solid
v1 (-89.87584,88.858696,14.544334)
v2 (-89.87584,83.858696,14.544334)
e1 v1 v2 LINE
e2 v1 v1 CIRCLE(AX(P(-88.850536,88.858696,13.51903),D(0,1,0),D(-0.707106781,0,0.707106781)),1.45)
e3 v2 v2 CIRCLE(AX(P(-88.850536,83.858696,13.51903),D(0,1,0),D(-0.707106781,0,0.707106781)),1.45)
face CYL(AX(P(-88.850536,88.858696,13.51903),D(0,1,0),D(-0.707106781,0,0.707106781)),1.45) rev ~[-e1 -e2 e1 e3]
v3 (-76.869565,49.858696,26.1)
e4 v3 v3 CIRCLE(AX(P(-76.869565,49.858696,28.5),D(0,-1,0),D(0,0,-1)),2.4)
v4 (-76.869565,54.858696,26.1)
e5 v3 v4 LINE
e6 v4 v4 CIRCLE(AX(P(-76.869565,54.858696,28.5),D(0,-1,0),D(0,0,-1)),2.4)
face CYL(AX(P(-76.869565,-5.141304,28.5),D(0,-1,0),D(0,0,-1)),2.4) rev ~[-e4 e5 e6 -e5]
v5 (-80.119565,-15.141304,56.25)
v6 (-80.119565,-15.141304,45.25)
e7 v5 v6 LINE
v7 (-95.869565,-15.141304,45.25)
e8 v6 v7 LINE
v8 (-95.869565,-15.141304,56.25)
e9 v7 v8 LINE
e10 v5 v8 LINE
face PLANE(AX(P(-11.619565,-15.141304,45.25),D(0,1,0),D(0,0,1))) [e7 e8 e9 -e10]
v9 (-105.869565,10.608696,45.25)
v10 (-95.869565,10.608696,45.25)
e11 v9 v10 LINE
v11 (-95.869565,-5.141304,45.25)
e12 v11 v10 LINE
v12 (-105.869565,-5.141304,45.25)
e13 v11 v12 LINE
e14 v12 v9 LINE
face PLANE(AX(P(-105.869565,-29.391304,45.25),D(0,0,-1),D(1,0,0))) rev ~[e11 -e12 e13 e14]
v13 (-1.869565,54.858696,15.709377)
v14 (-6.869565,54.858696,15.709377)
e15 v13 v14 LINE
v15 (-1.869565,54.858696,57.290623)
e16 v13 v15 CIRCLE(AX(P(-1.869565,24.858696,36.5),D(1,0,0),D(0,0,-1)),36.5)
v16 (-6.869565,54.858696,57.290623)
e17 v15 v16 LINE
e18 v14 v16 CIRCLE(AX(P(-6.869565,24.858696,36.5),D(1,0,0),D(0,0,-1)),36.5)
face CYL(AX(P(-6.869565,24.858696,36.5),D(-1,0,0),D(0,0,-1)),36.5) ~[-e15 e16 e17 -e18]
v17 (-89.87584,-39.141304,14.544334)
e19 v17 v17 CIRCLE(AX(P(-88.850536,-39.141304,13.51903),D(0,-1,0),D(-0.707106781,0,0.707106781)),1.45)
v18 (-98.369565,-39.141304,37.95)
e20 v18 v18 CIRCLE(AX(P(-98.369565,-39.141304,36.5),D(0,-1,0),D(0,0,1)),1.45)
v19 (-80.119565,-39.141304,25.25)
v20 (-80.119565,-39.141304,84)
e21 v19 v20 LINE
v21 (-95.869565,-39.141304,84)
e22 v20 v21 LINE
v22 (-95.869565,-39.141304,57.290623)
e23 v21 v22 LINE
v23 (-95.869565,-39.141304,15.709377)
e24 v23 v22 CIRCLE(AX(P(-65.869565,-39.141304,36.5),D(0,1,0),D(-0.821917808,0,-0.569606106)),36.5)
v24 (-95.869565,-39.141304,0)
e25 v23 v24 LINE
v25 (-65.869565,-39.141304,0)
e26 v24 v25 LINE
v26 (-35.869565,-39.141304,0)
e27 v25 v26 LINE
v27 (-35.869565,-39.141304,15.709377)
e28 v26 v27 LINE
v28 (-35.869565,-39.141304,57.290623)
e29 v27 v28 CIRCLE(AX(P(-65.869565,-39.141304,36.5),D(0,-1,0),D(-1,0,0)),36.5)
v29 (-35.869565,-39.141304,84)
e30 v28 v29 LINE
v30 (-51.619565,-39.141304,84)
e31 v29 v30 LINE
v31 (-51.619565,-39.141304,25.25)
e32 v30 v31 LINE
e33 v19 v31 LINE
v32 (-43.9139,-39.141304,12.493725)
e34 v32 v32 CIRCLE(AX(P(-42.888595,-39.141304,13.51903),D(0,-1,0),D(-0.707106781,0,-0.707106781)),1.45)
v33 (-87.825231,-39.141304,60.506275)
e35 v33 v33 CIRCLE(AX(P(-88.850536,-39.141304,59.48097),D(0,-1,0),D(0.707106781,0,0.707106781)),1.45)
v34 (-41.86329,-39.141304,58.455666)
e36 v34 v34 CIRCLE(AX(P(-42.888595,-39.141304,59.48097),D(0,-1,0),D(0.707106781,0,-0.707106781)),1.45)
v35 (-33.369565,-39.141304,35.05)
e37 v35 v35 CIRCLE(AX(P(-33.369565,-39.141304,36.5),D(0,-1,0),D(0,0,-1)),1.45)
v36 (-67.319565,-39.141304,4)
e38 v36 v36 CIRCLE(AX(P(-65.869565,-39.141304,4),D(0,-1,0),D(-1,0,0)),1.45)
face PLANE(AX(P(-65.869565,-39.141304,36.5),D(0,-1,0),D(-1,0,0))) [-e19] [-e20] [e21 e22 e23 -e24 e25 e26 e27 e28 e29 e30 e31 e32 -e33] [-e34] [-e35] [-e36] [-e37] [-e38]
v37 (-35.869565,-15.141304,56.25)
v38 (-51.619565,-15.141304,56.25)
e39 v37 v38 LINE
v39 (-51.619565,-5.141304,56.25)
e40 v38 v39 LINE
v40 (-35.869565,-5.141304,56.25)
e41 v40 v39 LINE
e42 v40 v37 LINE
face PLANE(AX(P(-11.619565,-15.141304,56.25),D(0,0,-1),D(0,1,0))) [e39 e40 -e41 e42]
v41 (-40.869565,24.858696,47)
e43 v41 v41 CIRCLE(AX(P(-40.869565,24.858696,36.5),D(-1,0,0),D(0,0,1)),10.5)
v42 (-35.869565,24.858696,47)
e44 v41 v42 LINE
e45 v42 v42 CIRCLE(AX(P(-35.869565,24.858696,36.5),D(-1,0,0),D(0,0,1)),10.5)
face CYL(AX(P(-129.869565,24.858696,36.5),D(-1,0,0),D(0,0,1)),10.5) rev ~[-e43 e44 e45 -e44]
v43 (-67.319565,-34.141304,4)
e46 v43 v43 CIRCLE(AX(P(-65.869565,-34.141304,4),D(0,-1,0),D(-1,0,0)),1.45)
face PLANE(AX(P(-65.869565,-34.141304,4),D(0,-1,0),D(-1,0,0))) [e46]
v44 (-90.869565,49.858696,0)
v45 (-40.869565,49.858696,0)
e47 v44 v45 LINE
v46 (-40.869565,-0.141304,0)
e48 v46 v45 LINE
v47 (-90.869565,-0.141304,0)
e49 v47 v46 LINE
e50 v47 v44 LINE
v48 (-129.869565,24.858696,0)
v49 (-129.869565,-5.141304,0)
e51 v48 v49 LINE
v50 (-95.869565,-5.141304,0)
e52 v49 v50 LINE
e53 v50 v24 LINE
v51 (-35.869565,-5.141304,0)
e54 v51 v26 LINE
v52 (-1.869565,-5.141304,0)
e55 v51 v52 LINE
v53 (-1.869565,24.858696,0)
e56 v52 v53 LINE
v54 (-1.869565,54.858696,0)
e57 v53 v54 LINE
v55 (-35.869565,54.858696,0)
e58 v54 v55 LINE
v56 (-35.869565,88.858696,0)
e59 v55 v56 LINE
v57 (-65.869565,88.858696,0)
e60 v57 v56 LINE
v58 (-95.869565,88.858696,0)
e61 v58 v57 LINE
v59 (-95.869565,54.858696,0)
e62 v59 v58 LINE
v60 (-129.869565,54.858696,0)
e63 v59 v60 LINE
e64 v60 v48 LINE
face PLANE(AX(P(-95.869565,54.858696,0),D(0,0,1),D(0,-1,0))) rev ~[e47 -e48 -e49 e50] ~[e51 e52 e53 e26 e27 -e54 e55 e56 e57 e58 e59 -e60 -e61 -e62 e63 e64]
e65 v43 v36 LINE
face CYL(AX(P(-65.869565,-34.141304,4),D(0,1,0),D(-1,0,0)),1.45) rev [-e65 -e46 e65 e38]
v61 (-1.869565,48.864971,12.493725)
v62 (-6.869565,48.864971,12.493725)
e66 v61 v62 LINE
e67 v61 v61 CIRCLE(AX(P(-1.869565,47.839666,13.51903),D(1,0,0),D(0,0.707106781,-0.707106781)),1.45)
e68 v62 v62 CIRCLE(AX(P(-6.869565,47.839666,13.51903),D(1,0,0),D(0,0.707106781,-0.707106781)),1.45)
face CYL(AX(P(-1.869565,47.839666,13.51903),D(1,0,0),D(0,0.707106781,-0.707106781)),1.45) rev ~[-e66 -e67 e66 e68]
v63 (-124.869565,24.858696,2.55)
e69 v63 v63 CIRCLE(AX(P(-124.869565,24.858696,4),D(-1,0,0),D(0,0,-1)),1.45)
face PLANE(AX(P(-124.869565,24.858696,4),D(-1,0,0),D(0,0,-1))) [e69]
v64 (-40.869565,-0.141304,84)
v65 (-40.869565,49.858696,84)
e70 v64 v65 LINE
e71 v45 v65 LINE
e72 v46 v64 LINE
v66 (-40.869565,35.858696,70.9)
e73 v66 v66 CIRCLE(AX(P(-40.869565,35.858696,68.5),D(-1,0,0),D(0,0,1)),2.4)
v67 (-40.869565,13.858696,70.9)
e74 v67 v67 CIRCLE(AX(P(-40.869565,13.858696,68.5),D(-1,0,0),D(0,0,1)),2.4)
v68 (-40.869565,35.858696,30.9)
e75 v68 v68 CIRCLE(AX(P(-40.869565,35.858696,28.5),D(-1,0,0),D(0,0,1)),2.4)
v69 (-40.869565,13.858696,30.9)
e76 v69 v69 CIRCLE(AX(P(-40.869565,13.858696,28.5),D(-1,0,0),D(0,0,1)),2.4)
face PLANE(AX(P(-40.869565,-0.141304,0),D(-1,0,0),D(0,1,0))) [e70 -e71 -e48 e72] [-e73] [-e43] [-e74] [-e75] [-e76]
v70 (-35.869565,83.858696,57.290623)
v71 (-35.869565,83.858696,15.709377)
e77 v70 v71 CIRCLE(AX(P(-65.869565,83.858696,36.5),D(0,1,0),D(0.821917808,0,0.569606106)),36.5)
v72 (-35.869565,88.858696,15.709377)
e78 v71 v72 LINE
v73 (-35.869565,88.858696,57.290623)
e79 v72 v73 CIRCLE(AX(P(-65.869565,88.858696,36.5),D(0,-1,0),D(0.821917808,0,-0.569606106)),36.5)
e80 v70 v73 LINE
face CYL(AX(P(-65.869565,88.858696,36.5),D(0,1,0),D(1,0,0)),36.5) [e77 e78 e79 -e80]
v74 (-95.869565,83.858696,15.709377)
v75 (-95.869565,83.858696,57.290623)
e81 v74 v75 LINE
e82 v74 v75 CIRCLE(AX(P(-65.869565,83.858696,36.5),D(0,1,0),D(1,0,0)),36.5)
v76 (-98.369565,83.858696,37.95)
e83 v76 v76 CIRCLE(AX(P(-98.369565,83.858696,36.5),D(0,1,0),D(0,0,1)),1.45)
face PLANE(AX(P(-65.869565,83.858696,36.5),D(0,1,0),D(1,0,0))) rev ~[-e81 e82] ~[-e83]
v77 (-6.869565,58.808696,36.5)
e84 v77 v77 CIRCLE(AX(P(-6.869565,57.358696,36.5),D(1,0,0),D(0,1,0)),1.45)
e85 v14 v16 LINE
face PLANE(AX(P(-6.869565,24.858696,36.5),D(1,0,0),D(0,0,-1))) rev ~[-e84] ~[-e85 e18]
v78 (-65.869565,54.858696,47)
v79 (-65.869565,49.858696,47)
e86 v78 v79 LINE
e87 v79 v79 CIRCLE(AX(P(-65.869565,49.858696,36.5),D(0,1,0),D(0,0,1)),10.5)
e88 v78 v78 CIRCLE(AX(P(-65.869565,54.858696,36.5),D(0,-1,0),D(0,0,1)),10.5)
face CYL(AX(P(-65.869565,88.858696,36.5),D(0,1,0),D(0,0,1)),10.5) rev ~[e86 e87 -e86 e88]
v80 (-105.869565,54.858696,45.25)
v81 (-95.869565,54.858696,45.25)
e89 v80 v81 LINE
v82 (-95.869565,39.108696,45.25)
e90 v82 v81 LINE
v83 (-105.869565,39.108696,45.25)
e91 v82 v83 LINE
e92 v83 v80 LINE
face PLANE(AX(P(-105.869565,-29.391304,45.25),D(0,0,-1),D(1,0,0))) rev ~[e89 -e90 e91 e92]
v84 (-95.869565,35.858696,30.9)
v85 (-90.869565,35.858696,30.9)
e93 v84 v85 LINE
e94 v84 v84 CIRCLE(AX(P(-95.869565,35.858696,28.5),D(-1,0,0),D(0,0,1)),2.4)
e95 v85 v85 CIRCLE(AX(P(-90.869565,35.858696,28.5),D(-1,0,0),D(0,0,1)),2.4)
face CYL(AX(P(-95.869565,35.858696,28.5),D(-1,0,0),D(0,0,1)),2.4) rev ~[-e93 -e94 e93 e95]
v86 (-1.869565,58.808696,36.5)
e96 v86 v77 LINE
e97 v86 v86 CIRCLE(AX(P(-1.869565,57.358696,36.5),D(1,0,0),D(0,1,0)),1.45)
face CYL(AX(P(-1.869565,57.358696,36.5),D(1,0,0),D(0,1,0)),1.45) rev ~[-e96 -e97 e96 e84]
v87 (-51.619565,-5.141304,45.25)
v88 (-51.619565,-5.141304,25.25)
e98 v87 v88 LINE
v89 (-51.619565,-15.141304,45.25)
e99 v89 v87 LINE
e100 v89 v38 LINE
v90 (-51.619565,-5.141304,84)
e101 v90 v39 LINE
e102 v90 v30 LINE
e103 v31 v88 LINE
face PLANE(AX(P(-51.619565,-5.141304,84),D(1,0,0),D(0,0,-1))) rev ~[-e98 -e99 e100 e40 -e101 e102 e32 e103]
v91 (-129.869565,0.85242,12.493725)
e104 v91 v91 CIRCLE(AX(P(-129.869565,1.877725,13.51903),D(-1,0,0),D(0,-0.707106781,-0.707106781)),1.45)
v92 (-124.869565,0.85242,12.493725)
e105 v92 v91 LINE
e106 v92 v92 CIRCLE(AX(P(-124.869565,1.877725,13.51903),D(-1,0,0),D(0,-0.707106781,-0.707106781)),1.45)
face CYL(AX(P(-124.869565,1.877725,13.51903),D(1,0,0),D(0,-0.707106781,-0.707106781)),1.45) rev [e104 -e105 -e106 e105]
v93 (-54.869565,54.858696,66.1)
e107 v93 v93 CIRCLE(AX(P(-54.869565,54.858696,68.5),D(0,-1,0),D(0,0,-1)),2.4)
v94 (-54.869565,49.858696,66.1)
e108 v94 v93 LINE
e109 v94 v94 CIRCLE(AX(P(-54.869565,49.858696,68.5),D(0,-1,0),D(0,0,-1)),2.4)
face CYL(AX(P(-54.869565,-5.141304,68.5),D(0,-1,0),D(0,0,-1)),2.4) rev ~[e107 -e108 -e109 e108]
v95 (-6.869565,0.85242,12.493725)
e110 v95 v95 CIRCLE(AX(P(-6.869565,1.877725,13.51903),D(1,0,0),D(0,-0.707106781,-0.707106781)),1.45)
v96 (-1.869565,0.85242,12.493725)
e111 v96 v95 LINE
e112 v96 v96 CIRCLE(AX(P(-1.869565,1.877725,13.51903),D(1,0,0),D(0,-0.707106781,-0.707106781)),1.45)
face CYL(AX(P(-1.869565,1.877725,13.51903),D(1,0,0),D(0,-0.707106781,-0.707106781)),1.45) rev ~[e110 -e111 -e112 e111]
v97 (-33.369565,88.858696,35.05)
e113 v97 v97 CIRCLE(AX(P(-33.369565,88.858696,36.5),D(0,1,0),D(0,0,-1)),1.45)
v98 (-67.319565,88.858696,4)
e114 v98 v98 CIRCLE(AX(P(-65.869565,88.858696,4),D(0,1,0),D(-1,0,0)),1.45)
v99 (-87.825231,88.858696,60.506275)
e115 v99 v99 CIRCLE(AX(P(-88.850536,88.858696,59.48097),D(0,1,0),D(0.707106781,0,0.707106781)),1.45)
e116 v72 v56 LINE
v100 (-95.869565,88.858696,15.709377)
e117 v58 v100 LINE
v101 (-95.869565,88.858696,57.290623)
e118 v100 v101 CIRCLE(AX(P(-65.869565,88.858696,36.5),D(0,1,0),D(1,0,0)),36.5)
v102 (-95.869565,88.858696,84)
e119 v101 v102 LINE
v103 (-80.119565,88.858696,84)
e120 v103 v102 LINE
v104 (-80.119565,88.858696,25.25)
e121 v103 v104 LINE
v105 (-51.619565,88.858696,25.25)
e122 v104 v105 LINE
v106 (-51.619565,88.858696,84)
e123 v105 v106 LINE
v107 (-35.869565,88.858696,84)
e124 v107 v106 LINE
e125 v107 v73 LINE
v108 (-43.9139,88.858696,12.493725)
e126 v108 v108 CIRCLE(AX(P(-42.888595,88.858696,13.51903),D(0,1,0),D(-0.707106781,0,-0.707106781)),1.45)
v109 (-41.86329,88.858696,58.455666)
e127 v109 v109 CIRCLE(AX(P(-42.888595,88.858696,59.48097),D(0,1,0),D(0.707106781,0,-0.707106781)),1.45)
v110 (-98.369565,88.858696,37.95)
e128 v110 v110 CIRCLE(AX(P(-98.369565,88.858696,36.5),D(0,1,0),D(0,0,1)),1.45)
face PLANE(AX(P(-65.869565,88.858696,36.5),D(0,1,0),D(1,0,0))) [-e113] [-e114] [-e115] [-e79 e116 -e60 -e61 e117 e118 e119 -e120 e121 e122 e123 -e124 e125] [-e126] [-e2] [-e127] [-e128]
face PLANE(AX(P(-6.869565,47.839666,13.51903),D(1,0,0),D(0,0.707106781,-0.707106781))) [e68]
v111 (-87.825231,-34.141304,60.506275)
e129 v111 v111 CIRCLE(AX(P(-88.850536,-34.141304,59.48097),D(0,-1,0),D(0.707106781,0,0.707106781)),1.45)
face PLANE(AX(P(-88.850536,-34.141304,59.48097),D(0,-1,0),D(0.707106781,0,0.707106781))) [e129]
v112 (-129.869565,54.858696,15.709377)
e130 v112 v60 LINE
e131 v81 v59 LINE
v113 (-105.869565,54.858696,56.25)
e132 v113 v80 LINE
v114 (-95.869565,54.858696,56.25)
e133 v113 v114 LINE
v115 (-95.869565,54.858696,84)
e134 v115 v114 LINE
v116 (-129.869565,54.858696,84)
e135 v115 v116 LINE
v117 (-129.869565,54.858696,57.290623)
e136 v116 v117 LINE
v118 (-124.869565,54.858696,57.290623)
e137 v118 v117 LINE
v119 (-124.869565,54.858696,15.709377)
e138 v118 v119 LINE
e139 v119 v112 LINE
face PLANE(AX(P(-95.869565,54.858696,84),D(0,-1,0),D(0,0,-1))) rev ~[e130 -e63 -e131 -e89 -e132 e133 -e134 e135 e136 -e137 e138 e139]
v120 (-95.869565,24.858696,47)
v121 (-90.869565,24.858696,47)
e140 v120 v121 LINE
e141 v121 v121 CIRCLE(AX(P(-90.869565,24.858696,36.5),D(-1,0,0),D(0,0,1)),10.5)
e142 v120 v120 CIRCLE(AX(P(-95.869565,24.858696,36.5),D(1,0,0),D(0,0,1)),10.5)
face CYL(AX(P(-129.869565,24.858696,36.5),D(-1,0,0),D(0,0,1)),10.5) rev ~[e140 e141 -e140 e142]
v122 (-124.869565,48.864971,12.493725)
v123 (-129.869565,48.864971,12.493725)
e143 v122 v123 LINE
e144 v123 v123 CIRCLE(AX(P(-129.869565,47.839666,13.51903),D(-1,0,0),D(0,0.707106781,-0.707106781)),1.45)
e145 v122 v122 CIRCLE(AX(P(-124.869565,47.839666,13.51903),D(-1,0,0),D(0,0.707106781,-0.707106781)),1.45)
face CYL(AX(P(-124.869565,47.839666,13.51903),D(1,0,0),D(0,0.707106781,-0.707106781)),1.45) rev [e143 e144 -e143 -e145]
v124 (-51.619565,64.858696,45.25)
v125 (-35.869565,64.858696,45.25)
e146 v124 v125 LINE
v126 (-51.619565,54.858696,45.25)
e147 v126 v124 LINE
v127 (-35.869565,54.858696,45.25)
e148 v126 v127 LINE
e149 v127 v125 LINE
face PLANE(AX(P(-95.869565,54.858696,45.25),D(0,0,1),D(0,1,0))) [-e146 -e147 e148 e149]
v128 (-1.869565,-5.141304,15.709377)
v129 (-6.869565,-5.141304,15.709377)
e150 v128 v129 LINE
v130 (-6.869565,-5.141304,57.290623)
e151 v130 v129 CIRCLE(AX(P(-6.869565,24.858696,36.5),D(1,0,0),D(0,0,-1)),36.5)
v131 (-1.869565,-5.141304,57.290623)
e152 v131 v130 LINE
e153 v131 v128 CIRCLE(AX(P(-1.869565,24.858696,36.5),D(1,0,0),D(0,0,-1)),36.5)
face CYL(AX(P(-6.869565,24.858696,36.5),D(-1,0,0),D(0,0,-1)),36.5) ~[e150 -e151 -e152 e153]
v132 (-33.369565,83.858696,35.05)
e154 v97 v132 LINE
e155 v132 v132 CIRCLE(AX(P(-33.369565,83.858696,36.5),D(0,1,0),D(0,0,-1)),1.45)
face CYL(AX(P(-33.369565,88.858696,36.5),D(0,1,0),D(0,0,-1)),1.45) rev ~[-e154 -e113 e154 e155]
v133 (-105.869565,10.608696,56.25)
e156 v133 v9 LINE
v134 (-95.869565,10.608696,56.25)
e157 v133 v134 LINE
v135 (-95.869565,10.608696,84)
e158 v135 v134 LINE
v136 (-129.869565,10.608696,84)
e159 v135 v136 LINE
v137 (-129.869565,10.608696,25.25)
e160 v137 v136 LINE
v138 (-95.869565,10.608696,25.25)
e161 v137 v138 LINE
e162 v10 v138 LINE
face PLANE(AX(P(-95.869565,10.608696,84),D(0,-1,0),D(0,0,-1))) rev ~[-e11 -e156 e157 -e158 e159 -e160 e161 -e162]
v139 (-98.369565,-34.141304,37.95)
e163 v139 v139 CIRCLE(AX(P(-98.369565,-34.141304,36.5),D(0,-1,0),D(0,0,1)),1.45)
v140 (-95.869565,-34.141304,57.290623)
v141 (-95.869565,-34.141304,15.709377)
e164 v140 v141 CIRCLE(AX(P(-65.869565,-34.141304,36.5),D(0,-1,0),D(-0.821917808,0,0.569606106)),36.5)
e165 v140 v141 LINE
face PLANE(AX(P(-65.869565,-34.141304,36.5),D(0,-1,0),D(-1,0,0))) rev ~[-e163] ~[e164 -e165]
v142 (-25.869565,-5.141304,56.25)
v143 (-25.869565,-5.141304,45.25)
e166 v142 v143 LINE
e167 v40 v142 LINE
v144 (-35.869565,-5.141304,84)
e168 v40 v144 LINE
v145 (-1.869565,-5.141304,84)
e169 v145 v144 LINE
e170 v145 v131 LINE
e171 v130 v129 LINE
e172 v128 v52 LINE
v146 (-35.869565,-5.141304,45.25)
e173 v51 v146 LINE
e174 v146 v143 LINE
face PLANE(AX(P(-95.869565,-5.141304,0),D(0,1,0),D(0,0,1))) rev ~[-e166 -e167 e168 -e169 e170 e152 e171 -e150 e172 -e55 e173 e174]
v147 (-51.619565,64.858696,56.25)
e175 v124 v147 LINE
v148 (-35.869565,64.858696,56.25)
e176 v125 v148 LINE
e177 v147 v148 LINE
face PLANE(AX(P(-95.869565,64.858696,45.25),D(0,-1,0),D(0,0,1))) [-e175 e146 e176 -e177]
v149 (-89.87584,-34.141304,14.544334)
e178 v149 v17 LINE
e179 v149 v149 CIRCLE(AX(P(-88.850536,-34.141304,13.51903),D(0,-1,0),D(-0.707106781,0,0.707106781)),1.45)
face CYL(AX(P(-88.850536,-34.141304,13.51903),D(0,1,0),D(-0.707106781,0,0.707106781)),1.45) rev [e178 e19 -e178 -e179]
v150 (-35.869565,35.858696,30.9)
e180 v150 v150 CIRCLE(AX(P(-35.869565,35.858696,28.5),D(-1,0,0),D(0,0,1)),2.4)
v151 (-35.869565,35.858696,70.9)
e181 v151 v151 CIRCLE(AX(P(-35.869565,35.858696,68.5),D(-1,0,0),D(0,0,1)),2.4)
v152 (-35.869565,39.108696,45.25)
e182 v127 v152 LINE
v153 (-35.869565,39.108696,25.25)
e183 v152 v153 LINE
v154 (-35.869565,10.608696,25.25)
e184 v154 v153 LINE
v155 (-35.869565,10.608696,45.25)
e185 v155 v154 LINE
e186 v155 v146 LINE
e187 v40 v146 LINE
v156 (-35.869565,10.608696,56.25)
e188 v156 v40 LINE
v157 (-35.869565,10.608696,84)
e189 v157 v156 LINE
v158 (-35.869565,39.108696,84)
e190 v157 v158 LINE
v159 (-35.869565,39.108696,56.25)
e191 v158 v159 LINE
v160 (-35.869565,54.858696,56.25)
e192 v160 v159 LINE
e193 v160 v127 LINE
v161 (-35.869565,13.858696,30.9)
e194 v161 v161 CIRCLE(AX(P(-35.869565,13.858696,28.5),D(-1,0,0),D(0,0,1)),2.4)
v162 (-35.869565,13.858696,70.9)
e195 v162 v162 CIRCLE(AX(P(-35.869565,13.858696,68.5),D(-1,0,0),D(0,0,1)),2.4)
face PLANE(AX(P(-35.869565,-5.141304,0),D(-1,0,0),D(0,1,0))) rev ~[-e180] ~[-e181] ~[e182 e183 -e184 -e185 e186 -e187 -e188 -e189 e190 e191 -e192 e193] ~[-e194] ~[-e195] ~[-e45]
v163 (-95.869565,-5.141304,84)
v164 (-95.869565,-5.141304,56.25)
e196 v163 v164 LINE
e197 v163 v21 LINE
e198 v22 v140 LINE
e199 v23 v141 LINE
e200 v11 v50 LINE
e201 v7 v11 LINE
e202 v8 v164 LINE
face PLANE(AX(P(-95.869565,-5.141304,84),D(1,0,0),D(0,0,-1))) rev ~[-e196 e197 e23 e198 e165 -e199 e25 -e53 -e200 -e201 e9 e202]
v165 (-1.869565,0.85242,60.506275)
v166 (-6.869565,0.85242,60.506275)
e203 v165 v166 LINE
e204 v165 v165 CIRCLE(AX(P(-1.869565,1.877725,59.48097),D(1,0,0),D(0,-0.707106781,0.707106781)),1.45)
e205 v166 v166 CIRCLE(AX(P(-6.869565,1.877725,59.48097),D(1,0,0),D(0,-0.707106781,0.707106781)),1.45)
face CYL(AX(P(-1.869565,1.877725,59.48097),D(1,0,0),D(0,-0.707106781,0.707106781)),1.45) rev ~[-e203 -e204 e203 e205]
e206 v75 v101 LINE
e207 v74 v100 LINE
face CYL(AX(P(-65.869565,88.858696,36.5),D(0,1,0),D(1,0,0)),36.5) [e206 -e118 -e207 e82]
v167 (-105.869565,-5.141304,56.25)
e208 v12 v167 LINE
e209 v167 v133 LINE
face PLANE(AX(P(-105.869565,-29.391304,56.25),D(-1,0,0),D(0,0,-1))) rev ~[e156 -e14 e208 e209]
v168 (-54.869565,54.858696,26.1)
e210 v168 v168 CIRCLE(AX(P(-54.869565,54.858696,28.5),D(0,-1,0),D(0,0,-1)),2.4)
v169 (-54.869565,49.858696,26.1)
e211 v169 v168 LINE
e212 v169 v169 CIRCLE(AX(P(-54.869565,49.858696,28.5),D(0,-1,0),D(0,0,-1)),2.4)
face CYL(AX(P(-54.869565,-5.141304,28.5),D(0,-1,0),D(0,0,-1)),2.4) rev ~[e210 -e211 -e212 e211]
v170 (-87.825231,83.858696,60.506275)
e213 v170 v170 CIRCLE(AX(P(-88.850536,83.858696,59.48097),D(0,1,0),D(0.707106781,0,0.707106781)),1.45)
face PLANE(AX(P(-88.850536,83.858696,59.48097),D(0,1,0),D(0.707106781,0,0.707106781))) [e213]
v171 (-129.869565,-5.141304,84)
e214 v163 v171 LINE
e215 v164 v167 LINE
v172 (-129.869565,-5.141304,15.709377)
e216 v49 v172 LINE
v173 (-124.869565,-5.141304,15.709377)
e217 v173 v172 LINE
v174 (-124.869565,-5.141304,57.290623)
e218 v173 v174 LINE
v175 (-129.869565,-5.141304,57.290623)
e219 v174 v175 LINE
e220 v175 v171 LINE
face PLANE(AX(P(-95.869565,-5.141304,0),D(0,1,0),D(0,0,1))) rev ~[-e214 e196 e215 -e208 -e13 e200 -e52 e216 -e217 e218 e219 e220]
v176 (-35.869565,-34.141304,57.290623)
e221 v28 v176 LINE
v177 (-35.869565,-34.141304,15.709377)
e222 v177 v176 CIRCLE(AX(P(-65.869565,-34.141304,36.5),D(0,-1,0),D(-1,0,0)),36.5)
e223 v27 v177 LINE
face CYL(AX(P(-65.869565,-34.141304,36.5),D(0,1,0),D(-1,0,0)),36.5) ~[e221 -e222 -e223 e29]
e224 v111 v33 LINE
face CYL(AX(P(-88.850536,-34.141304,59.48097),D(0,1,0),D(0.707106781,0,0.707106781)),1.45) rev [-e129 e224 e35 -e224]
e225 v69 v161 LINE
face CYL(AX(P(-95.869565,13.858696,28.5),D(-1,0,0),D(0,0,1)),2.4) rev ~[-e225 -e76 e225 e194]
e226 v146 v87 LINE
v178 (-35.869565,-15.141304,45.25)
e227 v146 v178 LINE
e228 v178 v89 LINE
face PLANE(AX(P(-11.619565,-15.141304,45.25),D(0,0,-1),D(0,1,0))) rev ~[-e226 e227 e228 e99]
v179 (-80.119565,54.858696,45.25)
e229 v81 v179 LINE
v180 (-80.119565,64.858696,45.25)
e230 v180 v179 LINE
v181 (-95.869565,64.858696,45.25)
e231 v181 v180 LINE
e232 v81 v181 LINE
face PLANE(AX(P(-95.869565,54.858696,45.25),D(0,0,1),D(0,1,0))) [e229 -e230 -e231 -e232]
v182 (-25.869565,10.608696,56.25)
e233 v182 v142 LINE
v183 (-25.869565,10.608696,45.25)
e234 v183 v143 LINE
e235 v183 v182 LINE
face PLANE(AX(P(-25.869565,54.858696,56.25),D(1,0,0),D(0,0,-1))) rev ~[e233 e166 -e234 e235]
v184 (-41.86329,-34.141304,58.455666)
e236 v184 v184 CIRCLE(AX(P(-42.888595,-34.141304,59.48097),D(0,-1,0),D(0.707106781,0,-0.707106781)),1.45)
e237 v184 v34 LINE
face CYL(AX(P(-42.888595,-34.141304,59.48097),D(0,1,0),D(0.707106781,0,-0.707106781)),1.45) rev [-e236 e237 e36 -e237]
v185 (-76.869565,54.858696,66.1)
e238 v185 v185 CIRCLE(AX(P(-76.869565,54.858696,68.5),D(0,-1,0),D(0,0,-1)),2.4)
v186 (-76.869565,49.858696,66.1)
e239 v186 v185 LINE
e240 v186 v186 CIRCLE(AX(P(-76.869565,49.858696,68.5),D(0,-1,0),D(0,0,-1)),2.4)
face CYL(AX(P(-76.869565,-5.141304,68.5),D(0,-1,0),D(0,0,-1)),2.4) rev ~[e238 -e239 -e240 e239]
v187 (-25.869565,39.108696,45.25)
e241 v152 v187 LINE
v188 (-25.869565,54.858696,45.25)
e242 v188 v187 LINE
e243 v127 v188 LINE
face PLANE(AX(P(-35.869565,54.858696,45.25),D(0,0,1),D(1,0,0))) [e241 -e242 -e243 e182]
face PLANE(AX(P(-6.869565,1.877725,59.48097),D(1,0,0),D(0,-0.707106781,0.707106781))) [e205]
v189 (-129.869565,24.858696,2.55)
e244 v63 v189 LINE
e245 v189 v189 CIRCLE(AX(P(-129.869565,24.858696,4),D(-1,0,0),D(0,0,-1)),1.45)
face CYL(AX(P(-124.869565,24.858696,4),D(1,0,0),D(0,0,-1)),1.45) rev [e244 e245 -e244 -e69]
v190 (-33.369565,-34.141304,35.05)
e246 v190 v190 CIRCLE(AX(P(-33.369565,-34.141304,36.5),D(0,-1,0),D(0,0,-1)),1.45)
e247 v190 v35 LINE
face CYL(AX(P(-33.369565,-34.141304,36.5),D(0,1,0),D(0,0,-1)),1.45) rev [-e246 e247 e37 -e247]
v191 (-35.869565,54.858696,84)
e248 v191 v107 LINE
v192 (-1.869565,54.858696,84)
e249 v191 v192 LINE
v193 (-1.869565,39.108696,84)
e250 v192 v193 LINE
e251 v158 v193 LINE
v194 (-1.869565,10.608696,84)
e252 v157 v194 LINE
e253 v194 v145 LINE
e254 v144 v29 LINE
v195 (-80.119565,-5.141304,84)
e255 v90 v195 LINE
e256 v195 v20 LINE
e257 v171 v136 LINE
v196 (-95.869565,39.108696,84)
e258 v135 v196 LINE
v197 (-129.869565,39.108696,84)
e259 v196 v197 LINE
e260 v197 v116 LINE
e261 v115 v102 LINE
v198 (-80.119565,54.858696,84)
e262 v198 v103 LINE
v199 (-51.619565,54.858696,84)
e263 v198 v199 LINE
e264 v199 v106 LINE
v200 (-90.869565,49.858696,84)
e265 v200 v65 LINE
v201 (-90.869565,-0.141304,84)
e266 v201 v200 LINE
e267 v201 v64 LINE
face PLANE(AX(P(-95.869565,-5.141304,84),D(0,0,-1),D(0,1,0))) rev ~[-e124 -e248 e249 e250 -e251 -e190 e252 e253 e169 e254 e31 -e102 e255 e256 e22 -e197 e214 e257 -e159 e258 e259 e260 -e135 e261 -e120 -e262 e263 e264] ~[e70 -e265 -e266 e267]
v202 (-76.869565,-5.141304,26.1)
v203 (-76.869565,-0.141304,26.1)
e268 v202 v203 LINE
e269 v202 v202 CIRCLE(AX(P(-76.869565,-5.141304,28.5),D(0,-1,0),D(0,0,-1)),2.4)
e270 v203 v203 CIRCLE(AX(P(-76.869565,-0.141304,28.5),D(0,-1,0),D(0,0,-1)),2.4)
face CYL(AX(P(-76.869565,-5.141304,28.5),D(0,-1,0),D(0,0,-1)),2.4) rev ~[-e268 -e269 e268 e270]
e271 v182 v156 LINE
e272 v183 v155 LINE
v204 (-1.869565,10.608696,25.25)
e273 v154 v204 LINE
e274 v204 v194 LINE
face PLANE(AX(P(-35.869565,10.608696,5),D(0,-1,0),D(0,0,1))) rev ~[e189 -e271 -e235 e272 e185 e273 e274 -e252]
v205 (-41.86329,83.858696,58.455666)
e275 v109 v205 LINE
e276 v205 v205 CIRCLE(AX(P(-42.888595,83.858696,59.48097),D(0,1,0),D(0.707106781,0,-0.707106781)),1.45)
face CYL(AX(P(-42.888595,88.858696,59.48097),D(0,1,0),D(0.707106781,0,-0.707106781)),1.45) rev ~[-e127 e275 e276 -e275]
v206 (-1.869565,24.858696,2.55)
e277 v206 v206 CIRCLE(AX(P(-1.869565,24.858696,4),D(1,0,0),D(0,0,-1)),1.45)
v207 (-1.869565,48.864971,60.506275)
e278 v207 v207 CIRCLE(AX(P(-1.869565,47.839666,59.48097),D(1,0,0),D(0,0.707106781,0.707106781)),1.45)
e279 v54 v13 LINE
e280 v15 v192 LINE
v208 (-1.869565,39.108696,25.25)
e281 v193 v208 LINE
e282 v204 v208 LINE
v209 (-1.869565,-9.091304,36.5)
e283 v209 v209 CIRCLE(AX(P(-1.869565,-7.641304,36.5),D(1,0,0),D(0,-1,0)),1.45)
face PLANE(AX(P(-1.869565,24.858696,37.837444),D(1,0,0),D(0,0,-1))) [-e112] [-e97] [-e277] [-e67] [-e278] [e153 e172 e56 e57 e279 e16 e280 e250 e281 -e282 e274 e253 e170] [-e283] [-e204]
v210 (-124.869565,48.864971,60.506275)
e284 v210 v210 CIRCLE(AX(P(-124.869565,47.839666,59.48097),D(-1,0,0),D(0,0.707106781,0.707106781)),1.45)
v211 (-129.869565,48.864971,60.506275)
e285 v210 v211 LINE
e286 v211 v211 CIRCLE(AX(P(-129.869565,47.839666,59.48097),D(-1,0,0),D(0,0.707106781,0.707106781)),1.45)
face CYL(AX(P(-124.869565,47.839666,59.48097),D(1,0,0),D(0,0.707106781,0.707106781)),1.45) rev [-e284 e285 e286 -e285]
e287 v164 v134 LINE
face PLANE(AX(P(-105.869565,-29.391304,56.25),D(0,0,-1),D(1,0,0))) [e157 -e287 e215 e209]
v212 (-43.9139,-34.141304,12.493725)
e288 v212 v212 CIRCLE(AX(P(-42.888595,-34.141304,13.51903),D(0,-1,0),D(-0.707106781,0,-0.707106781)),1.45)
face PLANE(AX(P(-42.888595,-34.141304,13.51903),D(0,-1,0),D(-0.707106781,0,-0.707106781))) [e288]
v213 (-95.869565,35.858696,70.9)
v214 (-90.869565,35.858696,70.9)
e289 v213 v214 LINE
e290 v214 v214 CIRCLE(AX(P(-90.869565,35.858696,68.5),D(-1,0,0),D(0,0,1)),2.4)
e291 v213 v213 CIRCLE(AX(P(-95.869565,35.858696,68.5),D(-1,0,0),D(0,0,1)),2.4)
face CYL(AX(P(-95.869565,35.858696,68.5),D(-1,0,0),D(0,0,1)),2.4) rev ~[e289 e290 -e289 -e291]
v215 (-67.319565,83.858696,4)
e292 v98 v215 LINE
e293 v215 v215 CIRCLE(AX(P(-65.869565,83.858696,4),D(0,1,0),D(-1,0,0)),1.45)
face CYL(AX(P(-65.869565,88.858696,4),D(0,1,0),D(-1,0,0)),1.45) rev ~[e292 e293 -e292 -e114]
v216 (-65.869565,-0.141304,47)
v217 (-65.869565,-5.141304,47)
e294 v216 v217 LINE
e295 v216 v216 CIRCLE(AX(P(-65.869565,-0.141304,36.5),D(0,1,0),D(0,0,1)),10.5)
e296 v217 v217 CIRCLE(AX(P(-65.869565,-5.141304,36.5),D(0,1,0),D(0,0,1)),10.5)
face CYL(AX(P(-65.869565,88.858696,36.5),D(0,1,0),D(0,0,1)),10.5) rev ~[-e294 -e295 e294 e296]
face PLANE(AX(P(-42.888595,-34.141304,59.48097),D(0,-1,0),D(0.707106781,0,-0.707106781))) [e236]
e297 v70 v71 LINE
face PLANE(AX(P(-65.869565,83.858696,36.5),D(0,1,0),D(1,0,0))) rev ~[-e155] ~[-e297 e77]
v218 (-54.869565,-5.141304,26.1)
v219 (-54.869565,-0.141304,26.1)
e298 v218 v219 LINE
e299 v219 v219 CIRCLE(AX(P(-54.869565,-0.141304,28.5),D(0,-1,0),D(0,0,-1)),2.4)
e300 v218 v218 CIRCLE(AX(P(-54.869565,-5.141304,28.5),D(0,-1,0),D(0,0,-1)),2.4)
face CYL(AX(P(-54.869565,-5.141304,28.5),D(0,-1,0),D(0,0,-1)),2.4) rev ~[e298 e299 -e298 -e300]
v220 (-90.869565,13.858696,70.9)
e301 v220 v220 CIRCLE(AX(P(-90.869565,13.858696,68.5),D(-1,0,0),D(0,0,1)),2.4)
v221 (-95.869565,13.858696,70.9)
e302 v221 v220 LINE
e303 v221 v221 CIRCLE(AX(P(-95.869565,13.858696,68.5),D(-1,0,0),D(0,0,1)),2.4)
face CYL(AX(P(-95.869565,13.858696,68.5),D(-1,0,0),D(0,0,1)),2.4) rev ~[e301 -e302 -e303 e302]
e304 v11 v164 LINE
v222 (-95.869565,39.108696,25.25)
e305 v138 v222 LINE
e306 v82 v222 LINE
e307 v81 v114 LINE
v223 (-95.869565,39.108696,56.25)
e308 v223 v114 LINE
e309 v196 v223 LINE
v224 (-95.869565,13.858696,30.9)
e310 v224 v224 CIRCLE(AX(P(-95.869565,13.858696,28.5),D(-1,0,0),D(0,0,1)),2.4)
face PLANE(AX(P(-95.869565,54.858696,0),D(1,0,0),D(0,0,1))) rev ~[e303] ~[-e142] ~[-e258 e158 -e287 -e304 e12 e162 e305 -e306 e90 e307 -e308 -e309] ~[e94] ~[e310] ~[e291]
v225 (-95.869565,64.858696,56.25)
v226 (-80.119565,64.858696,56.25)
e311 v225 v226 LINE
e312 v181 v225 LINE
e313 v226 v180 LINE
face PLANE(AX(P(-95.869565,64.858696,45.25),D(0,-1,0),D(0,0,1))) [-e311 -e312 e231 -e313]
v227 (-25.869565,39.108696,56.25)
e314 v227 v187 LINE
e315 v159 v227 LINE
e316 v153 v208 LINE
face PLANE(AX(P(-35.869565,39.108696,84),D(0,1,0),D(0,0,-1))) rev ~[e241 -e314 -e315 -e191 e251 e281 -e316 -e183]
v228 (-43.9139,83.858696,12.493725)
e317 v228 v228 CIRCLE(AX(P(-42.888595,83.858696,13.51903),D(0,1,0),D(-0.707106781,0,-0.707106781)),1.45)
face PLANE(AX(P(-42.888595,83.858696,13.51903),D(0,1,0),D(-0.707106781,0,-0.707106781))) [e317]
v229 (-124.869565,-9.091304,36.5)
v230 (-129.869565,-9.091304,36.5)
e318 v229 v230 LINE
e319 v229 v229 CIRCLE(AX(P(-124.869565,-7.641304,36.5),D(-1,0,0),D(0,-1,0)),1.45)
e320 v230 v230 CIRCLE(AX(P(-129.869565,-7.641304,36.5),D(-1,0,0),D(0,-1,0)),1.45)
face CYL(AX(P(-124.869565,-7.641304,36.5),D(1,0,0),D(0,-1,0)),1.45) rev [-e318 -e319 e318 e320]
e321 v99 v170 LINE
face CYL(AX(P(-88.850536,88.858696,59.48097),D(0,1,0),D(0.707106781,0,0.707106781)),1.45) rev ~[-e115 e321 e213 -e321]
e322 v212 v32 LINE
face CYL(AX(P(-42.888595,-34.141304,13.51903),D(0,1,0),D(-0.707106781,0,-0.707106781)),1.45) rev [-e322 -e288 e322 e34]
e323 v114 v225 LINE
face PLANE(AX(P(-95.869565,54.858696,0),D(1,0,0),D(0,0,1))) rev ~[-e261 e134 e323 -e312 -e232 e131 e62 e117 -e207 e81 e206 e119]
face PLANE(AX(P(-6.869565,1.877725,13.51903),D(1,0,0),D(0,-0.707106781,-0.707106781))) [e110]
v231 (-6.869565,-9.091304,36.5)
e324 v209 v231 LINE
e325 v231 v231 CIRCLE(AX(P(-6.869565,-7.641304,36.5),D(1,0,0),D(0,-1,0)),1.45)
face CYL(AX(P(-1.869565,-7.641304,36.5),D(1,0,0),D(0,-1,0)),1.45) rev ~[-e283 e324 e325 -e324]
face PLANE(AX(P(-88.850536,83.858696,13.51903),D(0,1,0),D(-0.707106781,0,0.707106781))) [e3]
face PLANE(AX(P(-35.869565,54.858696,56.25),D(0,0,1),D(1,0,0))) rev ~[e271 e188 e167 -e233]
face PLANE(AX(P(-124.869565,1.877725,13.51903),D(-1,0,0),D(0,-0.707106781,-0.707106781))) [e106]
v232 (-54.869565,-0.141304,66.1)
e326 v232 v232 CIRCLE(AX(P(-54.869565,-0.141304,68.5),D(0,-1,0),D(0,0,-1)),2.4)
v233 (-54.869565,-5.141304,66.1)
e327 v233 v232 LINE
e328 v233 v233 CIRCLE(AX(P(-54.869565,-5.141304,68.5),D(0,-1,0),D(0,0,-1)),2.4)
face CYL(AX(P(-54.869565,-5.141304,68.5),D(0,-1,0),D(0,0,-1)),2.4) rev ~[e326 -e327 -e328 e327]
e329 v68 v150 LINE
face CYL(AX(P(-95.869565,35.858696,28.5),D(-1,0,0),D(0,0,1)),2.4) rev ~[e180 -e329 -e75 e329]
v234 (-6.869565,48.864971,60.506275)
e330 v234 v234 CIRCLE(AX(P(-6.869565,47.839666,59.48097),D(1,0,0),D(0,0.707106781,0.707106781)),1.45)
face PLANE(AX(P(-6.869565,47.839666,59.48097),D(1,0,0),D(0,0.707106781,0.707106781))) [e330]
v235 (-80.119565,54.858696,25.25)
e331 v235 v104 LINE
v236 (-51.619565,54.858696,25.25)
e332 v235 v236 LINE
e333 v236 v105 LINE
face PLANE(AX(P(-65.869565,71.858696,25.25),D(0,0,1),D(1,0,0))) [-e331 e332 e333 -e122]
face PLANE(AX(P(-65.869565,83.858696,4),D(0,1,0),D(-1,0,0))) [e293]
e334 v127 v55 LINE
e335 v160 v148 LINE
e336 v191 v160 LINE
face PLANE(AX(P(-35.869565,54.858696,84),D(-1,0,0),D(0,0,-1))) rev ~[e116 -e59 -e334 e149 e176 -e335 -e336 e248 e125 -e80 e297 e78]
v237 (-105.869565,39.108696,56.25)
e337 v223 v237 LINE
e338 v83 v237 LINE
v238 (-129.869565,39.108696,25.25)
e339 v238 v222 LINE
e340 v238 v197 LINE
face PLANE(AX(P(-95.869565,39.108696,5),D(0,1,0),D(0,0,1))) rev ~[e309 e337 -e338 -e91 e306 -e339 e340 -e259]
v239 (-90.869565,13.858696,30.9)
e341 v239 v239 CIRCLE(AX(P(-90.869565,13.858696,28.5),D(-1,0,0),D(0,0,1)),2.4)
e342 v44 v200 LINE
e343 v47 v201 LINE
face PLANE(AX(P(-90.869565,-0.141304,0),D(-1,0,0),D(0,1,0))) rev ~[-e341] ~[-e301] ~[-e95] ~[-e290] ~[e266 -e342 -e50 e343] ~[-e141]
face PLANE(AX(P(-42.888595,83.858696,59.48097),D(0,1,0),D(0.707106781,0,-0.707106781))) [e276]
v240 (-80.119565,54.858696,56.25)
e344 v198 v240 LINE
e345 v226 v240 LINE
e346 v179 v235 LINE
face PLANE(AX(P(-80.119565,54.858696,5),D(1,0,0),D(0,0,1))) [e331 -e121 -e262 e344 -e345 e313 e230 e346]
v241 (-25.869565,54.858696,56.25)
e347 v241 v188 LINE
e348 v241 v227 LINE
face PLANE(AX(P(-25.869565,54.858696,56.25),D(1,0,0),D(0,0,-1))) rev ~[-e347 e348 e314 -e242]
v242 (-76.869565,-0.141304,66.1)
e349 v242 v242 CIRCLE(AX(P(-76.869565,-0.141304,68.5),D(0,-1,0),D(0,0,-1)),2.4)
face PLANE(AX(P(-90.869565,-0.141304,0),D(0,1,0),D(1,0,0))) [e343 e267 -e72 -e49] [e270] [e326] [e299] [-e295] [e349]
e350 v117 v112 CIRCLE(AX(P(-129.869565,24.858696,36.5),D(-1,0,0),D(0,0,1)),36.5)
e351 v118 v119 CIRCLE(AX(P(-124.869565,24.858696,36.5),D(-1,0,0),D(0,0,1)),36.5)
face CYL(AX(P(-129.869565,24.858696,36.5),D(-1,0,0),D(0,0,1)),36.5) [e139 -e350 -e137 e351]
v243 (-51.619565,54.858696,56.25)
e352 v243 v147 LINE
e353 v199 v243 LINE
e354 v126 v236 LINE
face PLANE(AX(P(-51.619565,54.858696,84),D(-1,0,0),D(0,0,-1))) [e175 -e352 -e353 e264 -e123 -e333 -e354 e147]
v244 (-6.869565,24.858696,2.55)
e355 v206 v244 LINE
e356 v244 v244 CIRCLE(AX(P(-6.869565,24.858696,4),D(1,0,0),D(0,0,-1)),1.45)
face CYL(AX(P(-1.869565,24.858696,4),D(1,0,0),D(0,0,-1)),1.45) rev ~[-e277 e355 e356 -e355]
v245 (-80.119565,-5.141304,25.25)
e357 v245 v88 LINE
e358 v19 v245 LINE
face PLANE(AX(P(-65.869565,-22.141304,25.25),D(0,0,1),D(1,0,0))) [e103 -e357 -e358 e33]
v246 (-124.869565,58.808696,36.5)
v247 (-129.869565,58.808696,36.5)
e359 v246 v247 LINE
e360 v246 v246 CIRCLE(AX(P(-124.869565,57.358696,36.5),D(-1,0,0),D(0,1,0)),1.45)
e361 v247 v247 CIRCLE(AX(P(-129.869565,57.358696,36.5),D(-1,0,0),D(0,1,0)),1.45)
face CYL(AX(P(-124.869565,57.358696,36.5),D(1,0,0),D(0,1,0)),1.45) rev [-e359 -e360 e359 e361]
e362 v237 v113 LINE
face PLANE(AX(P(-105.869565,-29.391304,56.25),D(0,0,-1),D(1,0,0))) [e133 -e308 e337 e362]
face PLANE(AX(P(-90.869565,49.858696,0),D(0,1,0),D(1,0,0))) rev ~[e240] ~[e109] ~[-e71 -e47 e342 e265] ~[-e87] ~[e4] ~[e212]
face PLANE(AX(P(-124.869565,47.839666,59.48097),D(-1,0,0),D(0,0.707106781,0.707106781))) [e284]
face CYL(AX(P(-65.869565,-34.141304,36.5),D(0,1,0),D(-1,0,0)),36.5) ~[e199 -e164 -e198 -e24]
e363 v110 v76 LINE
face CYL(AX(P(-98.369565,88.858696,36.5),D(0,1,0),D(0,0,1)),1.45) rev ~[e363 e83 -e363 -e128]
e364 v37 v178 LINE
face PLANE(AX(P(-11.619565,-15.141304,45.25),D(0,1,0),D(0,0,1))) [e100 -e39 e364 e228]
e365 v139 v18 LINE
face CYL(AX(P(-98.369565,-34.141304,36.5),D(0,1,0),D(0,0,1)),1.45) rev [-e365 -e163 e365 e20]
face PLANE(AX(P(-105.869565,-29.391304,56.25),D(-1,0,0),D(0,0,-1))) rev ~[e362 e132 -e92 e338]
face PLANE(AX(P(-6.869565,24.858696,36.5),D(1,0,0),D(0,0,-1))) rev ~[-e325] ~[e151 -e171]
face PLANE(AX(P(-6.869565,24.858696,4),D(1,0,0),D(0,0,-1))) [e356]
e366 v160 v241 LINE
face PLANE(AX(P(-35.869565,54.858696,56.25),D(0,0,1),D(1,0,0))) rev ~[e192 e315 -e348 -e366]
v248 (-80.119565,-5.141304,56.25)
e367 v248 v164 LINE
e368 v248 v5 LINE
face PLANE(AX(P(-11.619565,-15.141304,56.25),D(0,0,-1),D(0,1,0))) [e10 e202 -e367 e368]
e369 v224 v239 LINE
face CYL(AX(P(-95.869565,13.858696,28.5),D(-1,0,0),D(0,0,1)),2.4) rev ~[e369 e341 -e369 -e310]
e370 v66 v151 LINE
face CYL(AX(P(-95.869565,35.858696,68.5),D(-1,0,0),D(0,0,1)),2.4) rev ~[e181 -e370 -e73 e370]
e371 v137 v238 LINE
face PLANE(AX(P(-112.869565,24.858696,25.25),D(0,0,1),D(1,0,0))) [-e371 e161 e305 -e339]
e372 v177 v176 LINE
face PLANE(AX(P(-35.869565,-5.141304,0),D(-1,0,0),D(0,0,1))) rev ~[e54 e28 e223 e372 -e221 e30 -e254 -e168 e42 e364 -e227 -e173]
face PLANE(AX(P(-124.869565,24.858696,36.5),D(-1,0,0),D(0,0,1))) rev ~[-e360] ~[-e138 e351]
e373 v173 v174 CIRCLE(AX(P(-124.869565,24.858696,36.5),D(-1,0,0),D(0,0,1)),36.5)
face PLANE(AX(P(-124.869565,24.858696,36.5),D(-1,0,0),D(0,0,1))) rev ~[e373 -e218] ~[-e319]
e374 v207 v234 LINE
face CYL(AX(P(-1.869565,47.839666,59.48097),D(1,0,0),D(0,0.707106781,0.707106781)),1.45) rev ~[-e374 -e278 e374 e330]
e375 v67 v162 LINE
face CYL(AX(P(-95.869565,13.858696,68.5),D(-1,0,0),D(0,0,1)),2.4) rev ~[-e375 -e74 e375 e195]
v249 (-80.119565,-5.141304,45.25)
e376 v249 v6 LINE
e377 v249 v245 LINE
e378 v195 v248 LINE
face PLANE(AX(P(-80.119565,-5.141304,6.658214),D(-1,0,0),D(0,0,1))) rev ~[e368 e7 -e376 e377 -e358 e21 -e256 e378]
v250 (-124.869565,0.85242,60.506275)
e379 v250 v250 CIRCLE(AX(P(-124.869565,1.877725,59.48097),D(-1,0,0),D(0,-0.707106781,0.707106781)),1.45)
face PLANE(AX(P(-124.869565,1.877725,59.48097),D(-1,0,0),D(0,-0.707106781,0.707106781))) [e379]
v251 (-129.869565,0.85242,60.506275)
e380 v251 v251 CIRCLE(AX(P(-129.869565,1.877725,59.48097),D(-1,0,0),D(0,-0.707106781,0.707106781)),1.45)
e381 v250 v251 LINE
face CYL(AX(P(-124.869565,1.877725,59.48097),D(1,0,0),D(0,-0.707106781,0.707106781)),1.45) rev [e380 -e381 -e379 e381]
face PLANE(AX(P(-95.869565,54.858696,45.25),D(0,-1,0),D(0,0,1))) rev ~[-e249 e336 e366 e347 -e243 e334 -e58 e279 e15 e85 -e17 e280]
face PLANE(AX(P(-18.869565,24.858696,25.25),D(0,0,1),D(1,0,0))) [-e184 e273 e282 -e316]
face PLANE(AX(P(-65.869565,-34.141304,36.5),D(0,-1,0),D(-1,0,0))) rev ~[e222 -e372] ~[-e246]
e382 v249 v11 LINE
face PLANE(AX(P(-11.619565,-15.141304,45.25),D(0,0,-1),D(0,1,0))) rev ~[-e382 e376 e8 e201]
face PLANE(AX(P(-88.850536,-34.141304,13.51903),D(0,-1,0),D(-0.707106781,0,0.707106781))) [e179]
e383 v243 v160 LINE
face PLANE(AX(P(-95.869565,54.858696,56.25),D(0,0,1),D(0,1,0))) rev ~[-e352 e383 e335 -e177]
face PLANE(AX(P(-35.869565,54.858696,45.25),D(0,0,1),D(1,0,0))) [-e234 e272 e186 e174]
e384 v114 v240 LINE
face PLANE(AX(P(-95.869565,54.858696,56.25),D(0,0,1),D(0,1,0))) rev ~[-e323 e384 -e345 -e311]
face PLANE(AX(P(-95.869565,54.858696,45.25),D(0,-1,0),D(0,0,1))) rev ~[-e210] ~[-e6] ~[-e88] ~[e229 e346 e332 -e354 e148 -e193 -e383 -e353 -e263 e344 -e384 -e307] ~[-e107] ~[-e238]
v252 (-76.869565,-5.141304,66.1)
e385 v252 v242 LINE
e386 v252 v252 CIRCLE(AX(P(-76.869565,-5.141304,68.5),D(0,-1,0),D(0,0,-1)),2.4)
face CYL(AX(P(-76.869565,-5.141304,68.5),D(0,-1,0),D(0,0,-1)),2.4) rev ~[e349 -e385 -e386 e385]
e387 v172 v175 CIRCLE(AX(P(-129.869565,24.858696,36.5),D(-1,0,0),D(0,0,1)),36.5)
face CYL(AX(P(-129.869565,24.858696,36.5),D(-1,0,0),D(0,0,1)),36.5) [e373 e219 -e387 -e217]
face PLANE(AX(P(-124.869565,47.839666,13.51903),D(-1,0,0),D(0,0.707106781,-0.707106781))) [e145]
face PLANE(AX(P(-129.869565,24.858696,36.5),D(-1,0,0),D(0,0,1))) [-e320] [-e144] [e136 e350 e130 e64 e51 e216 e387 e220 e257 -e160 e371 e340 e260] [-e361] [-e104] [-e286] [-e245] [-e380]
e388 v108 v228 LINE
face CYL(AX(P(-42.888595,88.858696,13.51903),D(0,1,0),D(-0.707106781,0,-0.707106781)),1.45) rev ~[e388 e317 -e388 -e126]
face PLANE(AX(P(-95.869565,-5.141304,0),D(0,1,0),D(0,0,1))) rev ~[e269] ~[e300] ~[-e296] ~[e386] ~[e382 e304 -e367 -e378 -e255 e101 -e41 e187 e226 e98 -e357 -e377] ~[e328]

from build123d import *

# Parameters (mm, degrees)
SKETCH_1_W                = 60
SKETCH_1_H                = 60
SKETCH_1_W_2              = 50
SKETCH_1_H_2              = 50
EXTRUDE_1_DEPTH           = 84
EXTRUDE_2_DEPTH           = 34
EXTRUDE_5_DEPTH           = 34
EXTRUDE_6_DEPTH           = 34
EXTRUDE_7_DEPTH           = 34
SKETCH_12_R               = 36.5
EXTRUDE_8_DEPTH           = 5
EXTRUDE_START             = -5
SKETCH_13_R               = 36.5
EXTRUDE_9_DEPTH           = 5
SKETCH_14_R               = 36.5
EXTRUDE_10_DEPTH          = 5
SKETCH_15_R               = 36.5
EXTRUDE_11_DEPTH          = 5
SKETCH_22_W               = 29
SKETCH_22_H               = 28.5
SKETCH_22_W_2             = 28.5
SKETCH_22_H_2             = 29
EXTRUDE_12_DEPTH          = 60
SKETCH_18_R               = 1.45
CUT_EXTRUDE_2_DEPTH       = 5
PATTERN_CIRCULAR_1_COUNT  = 8
SKETCH_19_R               = 1.45
CUT_EXTRUDE_3_DEPTH       = 5
PATTERN_CIRCULAR_2_COUNT  = 8
CUT_EXTRUDE_START         = -5
SKETCH_20_R               = 1.45
CUT_EXTRUDE_4_DEPTH       = 5
PATTERN_CIRCULAR_3_COUNT  = 8
SKETCH_21_R               = 1.45
CUT_EXTRUDE_5_DEPTH       = 5
PATTERN_CIRCULAR_4_COUNT  = 8
SKETCH_26_W               = 34
SKETCH_26_H               = 28.5
SKETCH_26_W_2             = 28.5
SKETCH_26_H_2             = 34
CUT_EXTRUDE_7_DEPTH       = 58.75
SKETCH_27_R               = 10.5
CUT_EXTRUDE_8_DEPTH       = 200
SKETCH_28_R               = 10.5
CUT_EXTRUDE_9_DEPTH       = 200
SKETCH_31_R               = 2.4
CUT_EXTRUDE_12_DEPTH      = 200
SKETCH_32_R               = 2.4
CUT_EXTRUDE_13_DEPTH      = 200
CUT_EXTRUDE_14_DEPTH      = 50
CUT_EXTRUDE_14_DEPTH_BACK = 40
SKETCH_33_W               = 11
SKETCH_33_H               = 10
CUT_EXTRUDE_15_DEPTH      = 60
CUT_EXTRUDE_15_DEPTH_BACK = 40
SKETCH_34_W               = 10
SKETCH_34_H               = 11
SKETCH_35_W               = 11
SKETCH_35_H               = 10
CUT_EXTRUDE_16_DEPTH      = 80
SKETCH_36_W               = 10
SKETCH_36_H               = 11
CUT_EXTRUDE_17_DEPTH      = 80


with BuildPart() as part:
    # 草图1 → 拉伸-薄壁1 (new body)
    with BuildSketch(Plane.XY):
        with Locations((-65.869565217, 24.858695652)):
            Rectangle(SKETCH_1_W, SKETCH_1_H)
        with Locations((-65.869565217, 24.858695652)):
            Rectangle(SKETCH_1_W_2, SKETCH_1_H_2, mode=Mode.SUBTRACT)
    extrude(amount=EXTRUDE_1_DEPTH)

    # 草图5 → 凸台-拉伸2 (add)
    with BuildSketch(Plane(origin=(-35.869565217, 0, 0), x_dir=(0, 0, -1), z_dir=(1, 0, 0))):
        Polygon((0, 54.858695652), (-5, 54.858695652), (-84, 54.858695652), (-84, 39.108695652), (-5, 39.108695652), (-5, 10.608695652), (-84, 10.608695652), (-84, -5.141304348), (-5, -5.141304348), (0, -5.141304348), align=None)
    extrude(amount=EXTRUDE_2_DEPTH)

    # 草图8 → 凸台-拉伸5 (add)
    with BuildSketch(Plane(origin=(0, 54.858695652, 0), x_dir=(1, 0, 0), z_dir=(0, 1, 0))):
        Polygon((-95.869565217, 0), (-35.869565217, 0), (-35.869565217, -5), (-35.869565217, -84), (-51.619565217, -84), (-51.619565217, -5), (-80.119565217, -5), (-80.119565217, -84), (-95.869565217, -84), (-95.869565217, -5), align=None)
    extrude(amount=EXTRUDE_5_DEPTH)

    # 草图9 → 凸台-拉伸6 (add)
    with BuildSketch(Plane.ZY.offset(95.869565217)):
        Polygon((0, -5.141304348), (5, -5.141304348), (84, -5.141304348), (84, 10.608695652), (5, 10.608695652), (5, 39.108695652), (84, 39.108695652), (84, 54.858695652), (5, 54.858695652), (0, 54.858695652), align=None)
    extrude(amount=EXTRUDE_6_DEPTH)

    # 草图10 → 凸台-拉伸7 (add)
    with BuildSketch(Plane(origin=(0, -5.141304348, 0), x_dir=(-1, 0, 0), z_dir=(0, -1, 0))):
        Polygon((95.869565217, 0), (35.869565217, 0), (35.869565217, -6.658214143), (35.869565217, -84), (51.619565217, -84), (51.619565217, -6.658214143), (80.119565217, -6.658214143), (80.119565217, -84), (95.869565217, -84), (95.869565217, -6.658214143), align=None)
    extrude(amount=EXTRUDE_7_DEPTH)

    # 草图12 → 凸台-拉伸8 (add)
    with BuildSketch(Plane.ZY.offset(129.869565217)):
        with Locations((36.5, 24.858695652)):
            Circle(SKETCH_12_R)
    extrude(amount=-EXTRUDE_8_DEPTH)

    # 草图13 → 凸台-拉伸9 (add)
    with BuildSketch(Plane(origin=(-1.869565217, 0, 0), x_dir=(0, 0, -1), z_dir=(1, 0, 0)).offset(EXTRUDE_START)):
        with Locations((-36.5, 24.858695652)):
            Circle(SKETCH_13_R)
    extrude(amount=EXTRUDE_9_DEPTH)

    # 草图14 → 凸台-拉伸10 (add)
    with BuildSketch(Plane(origin=(0, 88.858695652, 0), x_dir=(1, 0, 0), z_dir=(0, 1, 0))):
        with Locations((-65.869565217, -36.5)):
            Circle(SKETCH_14_R)
    extrude(amount=-EXTRUDE_10_DEPTH)

    # 草图15 → 凸台-拉伸11 (add)
    with BuildSketch(Plane(origin=(0, -39.141304348, 0), x_dir=(-1, 0, 0), z_dir=(0, -1, 0)).offset(EXTRUDE_START)):
        with Locations((65.869565217, -36.5)):
            Circle(SKETCH_15_R)
    extrude(amount=EXTRUDE_11_DEPTH)

    # 草图22 → 凸台-拉伸12 (add)
    with BuildSketch(Plane.XY.offset(5)):
        with Locations((-110.369565217, 24.858695652)):
            Rectangle(SKETCH_22_W, SKETCH_22_H)
        with Locations((-65.869565217, 69.358695652)):
            Rectangle(SKETCH_22_W_2, SKETCH_22_H_2)
        with Locations((-21.369565217, 24.858695652)):
            Rectangle(SKETCH_22_W, SKETCH_22_H)
        with Locations((-65.869565217, -19.641304348)):
            Rectangle(SKETCH_22_W_2, SKETCH_22_H_2)
    extrude(amount=EXTRUDE_12_DEPTH)

    # 草图18 → 切除-拉伸2 (cut)
    with BuildSketch(Plane(origin=(0, 88.858695652, 0), x_dir=(1, 0, 0), z_dir=(0, 1, 0))):
        with Locations(Location((-98.369565217, -36.5, 0), (0, 0, 270))):
            Circle(SKETCH_18_R)
    cut_extrude_2 = extrude(amount=-CUT_EXTRUDE_2_DEPTH, mode=Mode.SUBTRACT)

    # 阵列(圆周)1: 切除-拉伸2 ×8 about axis
    pattern_circular_1_axis = Axis((-65.869565217, 0, 36.5), (0, 1, 0))
    for i in range(1, PATTERN_CIRCULAR_1_COUNT):
        add(cut_extrude_2.rotate(pattern_circular_1_axis, i * 360 / PATTERN_CIRCULAR_1_COUNT), mode=Mode.SUBTRACT)

    # 草图19 → 切除-拉伸3 (cut)
    with BuildSketch(Plane(origin=(-1.869565217, 0, 0), x_dir=(0, 0, -1), z_dir=(1, 0, 0))):
        with Locations(Location((-36.5, 57.358695652, 0), (0, 0, 90))):
            Circle(SKETCH_19_R)
    cut_extrude_3 = extrude(amount=-CUT_EXTRUDE_3_DEPTH, mode=Mode.SUBTRACT)

    # 阵列(圆周)2: 切除-拉伸3 ×8 about axis
    pattern_circular_2_axis = Axis((0, 24.858695652, 36.5), (1, 0, 0))
    for i in range(1, PATTERN_CIRCULAR_2_COUNT):
        add(cut_extrude_3.rotate(pattern_circular_2_axis, i * 360 / PATTERN_CIRCULAR_2_COUNT), mode=Mode.SUBTRACT)

    # 草图20 → 切除-拉伸4 (cut)
    with BuildSketch(Plane(origin=(0, -39.141304348, 0), x_dir=(-1, 0, 0), z_dir=(0, -1, 0)).offset(CUT_EXTRUDE_START)):
        with Locations(Location((98.369565217, -36.5, 0), (0, 0, 270))):
            Circle(SKETCH_20_R)
    cut_extrude_4 = extrude(amount=CUT_EXTRUDE_4_DEPTH, mode=Mode.SUBTRACT)

    # 阵列(圆周)3: 切除-拉伸4 ×8 about axis
    pattern_circular_3_axis = Axis((-65.869565217, 0, 36.5), (0, 1, 0))
    for i in range(1, PATTERN_CIRCULAR_3_COUNT):
        add(cut_extrude_4.rotate(pattern_circular_3_axis, i * 360 / PATTERN_CIRCULAR_3_COUNT), mode=Mode.SUBTRACT)

    # 草图21 → 切除-拉伸5 (cut)
    with BuildSketch(Plane.ZY.offset(129.869565217).offset(CUT_EXTRUDE_START)):
        with Locations(Location((36.5, 57.358695652, 0), (0, 0, 90))):
            Circle(SKETCH_21_R)
    cut_extrude_5 = extrude(amount=CUT_EXTRUDE_5_DEPTH, mode=Mode.SUBTRACT)

    # 阵列(圆周)4: 切除-拉伸5 ×8 about axis
    pattern_circular_4_axis = Axis((0, 24.858695652, 36.5), (1, 0, 0))
    for i in range(1, PATTERN_CIRCULAR_4_COUNT):
        add(cut_extrude_5.rotate(pattern_circular_4_axis, i * 360 / PATTERN_CIRCULAR_4_COUNT), mode=Mode.SUBTRACT)

    # 草图26 → 切除-拉伸7 (cut)
    with BuildSketch(Plane.XY.offset(84)):
        with Locations((-112.869565217, 24.858695652)):
            Rectangle(SKETCH_26_W, SKETCH_26_H)
        with Locations((-65.869565217, 71.858695652)):
            Rectangle(SKETCH_26_W_2, SKETCH_26_H_2)
        with Locations((-18.869565217, 24.858695652)):
            Rectangle(SKETCH_26_W, SKETCH_26_H)
        with Locations((-65.869565217, -22.141304348)):
            Rectangle(SKETCH_26_W_2, SKETCH_26_H_2)
    extrude(amount=-CUT_EXTRUDE_7_DEPTH, mode=Mode.SUBTRACT)

    # 草图27 → 切除-拉伸8 (cut)
    with BuildSketch(Plane.ZY.offset(129.869565217)):
        with Locations((36.5, 24.858695652)):
            Circle(SKETCH_27_R)
    extrude(amount=-CUT_EXTRUDE_8_DEPTH, mode=Mode.SUBTRACT)

    # 草图28 → 切除-拉伸9 (cut)
    with BuildSketch(Plane(origin=(0, 88.858695652, 0), x_dir=(1, 0, 0), z_dir=(0, 1, 0))):
        with Locations(Location((-65.869565217, -36.5, 0), (0, 0, 270))):
            Circle(SKETCH_28_R)
    extrude(amount=-CUT_EXTRUDE_9_DEPTH, mode=Mode.SUBTRACT)

    # 草图31 → 切除-拉伸12 (cut)
    with BuildSketch(Plane.ZY.offset(95.869565217)):
        with Locations((28.5, 13.858695652)):
            Circle(SKETCH_31_R)
        with Locations((28.5, 35.858695652)):
            Circle(SKETCH_31_R)
        with Locations((68.5, 35.858695652)):
            Circle(SKETCH_31_R)
        with Locations((68.5, 13.858695652)):
            Circle(SKETCH_31_R)
    extrude(amount=-CUT_EXTRUDE_12_DEPTH, mode=Mode.SUBTRACT)

    # 草图32 → 切除-拉伸13 (cut)
    with BuildSketch(Plane(origin=(0, -5.141304348, 0), x_dir=(-1, 0, 0), z_dir=(0, -1, 0))):
        with Locations(Location((76.869565217, -28.5, 0), (0, 0, 90))):
            Circle(SKETCH_32_R)
        with Locations(Location((54.869565217, -28.5, 0), (0, 0, 90))):
            Circle(SKETCH_32_R)
        with Locations(Location((54.869565217, -68.5, 0), (0, 0, 90))):
            Circle(SKETCH_32_R)
        with Locations(Location((76.869565217, -68.5, 0), (0, 0, 90))):
            Circle(SKETCH_32_R)
    extrude(amount=-CUT_EXTRUDE_13_DEPTH, mode=Mode.SUBTRACT)

    # 草图33 → 切除-拉伸14 (cut, two sides: drawn at the far end of the back side and taken through both)
    with BuildSketch(Plane.ZY.offset(51.619565217).offset(-CUT_EXTRUDE_14_DEPTH_BACK)):
        with Locations((50.75, -10.141304348)):
            Rectangle(SKETCH_33_W, SKETCH_33_H)
    extrude(amount=CUT_EXTRUDE_14_DEPTH + CUT_EXTRUDE_14_DEPTH_BACK, mode=Mode.SUBTRACT)

    # 草图34 → 切除-拉伸15 (cut, two sides: drawn at the far end of the back side and taken through both)
    with BuildSketch(Plane(origin=(0, 10.608695652, 0), x_dir=(1, 0, 0), z_dir=(0, 1, 0)).offset(-CUT_EXTRUDE_15_DEPTH_BACK)):
        with Locations((-100.869565217, -50.75)):
            Rectangle(SKETCH_34_W, SKETCH_34_H)
    extrude(amount=CUT_EXTRUDE_15_DEPTH + CUT_EXTRUDE_15_DEPTH_BACK, mode=Mode.SUBTRACT)

    # 草图35 → 切除-拉伸16 (cut)
    with BuildSketch(Plane.ZY.offset(95.869565217)):
        with Locations((50.75, 59.858695652)):
            Rectangle(SKETCH_35_W, SKETCH_35_H)
    extrude(amount=-CUT_EXTRUDE_16_DEPTH, mode=Mode.SUBTRACT)

    # 草图36 → 切除-拉伸17 (cut)
    with BuildSketch(Plane(origin=(0, 54.858695652, 0), x_dir=(1, 0, 0), z_dir=(0, 1, 0))):
        with Locations((-30.869565217, -50.75)):
            Rectangle(SKETCH_36_W, SKETCH_36_H)
    extrude(amount=-CUT_EXTRUDE_17_DEPTH, mode=Mode.SUBTRACT)


solid = part.part
